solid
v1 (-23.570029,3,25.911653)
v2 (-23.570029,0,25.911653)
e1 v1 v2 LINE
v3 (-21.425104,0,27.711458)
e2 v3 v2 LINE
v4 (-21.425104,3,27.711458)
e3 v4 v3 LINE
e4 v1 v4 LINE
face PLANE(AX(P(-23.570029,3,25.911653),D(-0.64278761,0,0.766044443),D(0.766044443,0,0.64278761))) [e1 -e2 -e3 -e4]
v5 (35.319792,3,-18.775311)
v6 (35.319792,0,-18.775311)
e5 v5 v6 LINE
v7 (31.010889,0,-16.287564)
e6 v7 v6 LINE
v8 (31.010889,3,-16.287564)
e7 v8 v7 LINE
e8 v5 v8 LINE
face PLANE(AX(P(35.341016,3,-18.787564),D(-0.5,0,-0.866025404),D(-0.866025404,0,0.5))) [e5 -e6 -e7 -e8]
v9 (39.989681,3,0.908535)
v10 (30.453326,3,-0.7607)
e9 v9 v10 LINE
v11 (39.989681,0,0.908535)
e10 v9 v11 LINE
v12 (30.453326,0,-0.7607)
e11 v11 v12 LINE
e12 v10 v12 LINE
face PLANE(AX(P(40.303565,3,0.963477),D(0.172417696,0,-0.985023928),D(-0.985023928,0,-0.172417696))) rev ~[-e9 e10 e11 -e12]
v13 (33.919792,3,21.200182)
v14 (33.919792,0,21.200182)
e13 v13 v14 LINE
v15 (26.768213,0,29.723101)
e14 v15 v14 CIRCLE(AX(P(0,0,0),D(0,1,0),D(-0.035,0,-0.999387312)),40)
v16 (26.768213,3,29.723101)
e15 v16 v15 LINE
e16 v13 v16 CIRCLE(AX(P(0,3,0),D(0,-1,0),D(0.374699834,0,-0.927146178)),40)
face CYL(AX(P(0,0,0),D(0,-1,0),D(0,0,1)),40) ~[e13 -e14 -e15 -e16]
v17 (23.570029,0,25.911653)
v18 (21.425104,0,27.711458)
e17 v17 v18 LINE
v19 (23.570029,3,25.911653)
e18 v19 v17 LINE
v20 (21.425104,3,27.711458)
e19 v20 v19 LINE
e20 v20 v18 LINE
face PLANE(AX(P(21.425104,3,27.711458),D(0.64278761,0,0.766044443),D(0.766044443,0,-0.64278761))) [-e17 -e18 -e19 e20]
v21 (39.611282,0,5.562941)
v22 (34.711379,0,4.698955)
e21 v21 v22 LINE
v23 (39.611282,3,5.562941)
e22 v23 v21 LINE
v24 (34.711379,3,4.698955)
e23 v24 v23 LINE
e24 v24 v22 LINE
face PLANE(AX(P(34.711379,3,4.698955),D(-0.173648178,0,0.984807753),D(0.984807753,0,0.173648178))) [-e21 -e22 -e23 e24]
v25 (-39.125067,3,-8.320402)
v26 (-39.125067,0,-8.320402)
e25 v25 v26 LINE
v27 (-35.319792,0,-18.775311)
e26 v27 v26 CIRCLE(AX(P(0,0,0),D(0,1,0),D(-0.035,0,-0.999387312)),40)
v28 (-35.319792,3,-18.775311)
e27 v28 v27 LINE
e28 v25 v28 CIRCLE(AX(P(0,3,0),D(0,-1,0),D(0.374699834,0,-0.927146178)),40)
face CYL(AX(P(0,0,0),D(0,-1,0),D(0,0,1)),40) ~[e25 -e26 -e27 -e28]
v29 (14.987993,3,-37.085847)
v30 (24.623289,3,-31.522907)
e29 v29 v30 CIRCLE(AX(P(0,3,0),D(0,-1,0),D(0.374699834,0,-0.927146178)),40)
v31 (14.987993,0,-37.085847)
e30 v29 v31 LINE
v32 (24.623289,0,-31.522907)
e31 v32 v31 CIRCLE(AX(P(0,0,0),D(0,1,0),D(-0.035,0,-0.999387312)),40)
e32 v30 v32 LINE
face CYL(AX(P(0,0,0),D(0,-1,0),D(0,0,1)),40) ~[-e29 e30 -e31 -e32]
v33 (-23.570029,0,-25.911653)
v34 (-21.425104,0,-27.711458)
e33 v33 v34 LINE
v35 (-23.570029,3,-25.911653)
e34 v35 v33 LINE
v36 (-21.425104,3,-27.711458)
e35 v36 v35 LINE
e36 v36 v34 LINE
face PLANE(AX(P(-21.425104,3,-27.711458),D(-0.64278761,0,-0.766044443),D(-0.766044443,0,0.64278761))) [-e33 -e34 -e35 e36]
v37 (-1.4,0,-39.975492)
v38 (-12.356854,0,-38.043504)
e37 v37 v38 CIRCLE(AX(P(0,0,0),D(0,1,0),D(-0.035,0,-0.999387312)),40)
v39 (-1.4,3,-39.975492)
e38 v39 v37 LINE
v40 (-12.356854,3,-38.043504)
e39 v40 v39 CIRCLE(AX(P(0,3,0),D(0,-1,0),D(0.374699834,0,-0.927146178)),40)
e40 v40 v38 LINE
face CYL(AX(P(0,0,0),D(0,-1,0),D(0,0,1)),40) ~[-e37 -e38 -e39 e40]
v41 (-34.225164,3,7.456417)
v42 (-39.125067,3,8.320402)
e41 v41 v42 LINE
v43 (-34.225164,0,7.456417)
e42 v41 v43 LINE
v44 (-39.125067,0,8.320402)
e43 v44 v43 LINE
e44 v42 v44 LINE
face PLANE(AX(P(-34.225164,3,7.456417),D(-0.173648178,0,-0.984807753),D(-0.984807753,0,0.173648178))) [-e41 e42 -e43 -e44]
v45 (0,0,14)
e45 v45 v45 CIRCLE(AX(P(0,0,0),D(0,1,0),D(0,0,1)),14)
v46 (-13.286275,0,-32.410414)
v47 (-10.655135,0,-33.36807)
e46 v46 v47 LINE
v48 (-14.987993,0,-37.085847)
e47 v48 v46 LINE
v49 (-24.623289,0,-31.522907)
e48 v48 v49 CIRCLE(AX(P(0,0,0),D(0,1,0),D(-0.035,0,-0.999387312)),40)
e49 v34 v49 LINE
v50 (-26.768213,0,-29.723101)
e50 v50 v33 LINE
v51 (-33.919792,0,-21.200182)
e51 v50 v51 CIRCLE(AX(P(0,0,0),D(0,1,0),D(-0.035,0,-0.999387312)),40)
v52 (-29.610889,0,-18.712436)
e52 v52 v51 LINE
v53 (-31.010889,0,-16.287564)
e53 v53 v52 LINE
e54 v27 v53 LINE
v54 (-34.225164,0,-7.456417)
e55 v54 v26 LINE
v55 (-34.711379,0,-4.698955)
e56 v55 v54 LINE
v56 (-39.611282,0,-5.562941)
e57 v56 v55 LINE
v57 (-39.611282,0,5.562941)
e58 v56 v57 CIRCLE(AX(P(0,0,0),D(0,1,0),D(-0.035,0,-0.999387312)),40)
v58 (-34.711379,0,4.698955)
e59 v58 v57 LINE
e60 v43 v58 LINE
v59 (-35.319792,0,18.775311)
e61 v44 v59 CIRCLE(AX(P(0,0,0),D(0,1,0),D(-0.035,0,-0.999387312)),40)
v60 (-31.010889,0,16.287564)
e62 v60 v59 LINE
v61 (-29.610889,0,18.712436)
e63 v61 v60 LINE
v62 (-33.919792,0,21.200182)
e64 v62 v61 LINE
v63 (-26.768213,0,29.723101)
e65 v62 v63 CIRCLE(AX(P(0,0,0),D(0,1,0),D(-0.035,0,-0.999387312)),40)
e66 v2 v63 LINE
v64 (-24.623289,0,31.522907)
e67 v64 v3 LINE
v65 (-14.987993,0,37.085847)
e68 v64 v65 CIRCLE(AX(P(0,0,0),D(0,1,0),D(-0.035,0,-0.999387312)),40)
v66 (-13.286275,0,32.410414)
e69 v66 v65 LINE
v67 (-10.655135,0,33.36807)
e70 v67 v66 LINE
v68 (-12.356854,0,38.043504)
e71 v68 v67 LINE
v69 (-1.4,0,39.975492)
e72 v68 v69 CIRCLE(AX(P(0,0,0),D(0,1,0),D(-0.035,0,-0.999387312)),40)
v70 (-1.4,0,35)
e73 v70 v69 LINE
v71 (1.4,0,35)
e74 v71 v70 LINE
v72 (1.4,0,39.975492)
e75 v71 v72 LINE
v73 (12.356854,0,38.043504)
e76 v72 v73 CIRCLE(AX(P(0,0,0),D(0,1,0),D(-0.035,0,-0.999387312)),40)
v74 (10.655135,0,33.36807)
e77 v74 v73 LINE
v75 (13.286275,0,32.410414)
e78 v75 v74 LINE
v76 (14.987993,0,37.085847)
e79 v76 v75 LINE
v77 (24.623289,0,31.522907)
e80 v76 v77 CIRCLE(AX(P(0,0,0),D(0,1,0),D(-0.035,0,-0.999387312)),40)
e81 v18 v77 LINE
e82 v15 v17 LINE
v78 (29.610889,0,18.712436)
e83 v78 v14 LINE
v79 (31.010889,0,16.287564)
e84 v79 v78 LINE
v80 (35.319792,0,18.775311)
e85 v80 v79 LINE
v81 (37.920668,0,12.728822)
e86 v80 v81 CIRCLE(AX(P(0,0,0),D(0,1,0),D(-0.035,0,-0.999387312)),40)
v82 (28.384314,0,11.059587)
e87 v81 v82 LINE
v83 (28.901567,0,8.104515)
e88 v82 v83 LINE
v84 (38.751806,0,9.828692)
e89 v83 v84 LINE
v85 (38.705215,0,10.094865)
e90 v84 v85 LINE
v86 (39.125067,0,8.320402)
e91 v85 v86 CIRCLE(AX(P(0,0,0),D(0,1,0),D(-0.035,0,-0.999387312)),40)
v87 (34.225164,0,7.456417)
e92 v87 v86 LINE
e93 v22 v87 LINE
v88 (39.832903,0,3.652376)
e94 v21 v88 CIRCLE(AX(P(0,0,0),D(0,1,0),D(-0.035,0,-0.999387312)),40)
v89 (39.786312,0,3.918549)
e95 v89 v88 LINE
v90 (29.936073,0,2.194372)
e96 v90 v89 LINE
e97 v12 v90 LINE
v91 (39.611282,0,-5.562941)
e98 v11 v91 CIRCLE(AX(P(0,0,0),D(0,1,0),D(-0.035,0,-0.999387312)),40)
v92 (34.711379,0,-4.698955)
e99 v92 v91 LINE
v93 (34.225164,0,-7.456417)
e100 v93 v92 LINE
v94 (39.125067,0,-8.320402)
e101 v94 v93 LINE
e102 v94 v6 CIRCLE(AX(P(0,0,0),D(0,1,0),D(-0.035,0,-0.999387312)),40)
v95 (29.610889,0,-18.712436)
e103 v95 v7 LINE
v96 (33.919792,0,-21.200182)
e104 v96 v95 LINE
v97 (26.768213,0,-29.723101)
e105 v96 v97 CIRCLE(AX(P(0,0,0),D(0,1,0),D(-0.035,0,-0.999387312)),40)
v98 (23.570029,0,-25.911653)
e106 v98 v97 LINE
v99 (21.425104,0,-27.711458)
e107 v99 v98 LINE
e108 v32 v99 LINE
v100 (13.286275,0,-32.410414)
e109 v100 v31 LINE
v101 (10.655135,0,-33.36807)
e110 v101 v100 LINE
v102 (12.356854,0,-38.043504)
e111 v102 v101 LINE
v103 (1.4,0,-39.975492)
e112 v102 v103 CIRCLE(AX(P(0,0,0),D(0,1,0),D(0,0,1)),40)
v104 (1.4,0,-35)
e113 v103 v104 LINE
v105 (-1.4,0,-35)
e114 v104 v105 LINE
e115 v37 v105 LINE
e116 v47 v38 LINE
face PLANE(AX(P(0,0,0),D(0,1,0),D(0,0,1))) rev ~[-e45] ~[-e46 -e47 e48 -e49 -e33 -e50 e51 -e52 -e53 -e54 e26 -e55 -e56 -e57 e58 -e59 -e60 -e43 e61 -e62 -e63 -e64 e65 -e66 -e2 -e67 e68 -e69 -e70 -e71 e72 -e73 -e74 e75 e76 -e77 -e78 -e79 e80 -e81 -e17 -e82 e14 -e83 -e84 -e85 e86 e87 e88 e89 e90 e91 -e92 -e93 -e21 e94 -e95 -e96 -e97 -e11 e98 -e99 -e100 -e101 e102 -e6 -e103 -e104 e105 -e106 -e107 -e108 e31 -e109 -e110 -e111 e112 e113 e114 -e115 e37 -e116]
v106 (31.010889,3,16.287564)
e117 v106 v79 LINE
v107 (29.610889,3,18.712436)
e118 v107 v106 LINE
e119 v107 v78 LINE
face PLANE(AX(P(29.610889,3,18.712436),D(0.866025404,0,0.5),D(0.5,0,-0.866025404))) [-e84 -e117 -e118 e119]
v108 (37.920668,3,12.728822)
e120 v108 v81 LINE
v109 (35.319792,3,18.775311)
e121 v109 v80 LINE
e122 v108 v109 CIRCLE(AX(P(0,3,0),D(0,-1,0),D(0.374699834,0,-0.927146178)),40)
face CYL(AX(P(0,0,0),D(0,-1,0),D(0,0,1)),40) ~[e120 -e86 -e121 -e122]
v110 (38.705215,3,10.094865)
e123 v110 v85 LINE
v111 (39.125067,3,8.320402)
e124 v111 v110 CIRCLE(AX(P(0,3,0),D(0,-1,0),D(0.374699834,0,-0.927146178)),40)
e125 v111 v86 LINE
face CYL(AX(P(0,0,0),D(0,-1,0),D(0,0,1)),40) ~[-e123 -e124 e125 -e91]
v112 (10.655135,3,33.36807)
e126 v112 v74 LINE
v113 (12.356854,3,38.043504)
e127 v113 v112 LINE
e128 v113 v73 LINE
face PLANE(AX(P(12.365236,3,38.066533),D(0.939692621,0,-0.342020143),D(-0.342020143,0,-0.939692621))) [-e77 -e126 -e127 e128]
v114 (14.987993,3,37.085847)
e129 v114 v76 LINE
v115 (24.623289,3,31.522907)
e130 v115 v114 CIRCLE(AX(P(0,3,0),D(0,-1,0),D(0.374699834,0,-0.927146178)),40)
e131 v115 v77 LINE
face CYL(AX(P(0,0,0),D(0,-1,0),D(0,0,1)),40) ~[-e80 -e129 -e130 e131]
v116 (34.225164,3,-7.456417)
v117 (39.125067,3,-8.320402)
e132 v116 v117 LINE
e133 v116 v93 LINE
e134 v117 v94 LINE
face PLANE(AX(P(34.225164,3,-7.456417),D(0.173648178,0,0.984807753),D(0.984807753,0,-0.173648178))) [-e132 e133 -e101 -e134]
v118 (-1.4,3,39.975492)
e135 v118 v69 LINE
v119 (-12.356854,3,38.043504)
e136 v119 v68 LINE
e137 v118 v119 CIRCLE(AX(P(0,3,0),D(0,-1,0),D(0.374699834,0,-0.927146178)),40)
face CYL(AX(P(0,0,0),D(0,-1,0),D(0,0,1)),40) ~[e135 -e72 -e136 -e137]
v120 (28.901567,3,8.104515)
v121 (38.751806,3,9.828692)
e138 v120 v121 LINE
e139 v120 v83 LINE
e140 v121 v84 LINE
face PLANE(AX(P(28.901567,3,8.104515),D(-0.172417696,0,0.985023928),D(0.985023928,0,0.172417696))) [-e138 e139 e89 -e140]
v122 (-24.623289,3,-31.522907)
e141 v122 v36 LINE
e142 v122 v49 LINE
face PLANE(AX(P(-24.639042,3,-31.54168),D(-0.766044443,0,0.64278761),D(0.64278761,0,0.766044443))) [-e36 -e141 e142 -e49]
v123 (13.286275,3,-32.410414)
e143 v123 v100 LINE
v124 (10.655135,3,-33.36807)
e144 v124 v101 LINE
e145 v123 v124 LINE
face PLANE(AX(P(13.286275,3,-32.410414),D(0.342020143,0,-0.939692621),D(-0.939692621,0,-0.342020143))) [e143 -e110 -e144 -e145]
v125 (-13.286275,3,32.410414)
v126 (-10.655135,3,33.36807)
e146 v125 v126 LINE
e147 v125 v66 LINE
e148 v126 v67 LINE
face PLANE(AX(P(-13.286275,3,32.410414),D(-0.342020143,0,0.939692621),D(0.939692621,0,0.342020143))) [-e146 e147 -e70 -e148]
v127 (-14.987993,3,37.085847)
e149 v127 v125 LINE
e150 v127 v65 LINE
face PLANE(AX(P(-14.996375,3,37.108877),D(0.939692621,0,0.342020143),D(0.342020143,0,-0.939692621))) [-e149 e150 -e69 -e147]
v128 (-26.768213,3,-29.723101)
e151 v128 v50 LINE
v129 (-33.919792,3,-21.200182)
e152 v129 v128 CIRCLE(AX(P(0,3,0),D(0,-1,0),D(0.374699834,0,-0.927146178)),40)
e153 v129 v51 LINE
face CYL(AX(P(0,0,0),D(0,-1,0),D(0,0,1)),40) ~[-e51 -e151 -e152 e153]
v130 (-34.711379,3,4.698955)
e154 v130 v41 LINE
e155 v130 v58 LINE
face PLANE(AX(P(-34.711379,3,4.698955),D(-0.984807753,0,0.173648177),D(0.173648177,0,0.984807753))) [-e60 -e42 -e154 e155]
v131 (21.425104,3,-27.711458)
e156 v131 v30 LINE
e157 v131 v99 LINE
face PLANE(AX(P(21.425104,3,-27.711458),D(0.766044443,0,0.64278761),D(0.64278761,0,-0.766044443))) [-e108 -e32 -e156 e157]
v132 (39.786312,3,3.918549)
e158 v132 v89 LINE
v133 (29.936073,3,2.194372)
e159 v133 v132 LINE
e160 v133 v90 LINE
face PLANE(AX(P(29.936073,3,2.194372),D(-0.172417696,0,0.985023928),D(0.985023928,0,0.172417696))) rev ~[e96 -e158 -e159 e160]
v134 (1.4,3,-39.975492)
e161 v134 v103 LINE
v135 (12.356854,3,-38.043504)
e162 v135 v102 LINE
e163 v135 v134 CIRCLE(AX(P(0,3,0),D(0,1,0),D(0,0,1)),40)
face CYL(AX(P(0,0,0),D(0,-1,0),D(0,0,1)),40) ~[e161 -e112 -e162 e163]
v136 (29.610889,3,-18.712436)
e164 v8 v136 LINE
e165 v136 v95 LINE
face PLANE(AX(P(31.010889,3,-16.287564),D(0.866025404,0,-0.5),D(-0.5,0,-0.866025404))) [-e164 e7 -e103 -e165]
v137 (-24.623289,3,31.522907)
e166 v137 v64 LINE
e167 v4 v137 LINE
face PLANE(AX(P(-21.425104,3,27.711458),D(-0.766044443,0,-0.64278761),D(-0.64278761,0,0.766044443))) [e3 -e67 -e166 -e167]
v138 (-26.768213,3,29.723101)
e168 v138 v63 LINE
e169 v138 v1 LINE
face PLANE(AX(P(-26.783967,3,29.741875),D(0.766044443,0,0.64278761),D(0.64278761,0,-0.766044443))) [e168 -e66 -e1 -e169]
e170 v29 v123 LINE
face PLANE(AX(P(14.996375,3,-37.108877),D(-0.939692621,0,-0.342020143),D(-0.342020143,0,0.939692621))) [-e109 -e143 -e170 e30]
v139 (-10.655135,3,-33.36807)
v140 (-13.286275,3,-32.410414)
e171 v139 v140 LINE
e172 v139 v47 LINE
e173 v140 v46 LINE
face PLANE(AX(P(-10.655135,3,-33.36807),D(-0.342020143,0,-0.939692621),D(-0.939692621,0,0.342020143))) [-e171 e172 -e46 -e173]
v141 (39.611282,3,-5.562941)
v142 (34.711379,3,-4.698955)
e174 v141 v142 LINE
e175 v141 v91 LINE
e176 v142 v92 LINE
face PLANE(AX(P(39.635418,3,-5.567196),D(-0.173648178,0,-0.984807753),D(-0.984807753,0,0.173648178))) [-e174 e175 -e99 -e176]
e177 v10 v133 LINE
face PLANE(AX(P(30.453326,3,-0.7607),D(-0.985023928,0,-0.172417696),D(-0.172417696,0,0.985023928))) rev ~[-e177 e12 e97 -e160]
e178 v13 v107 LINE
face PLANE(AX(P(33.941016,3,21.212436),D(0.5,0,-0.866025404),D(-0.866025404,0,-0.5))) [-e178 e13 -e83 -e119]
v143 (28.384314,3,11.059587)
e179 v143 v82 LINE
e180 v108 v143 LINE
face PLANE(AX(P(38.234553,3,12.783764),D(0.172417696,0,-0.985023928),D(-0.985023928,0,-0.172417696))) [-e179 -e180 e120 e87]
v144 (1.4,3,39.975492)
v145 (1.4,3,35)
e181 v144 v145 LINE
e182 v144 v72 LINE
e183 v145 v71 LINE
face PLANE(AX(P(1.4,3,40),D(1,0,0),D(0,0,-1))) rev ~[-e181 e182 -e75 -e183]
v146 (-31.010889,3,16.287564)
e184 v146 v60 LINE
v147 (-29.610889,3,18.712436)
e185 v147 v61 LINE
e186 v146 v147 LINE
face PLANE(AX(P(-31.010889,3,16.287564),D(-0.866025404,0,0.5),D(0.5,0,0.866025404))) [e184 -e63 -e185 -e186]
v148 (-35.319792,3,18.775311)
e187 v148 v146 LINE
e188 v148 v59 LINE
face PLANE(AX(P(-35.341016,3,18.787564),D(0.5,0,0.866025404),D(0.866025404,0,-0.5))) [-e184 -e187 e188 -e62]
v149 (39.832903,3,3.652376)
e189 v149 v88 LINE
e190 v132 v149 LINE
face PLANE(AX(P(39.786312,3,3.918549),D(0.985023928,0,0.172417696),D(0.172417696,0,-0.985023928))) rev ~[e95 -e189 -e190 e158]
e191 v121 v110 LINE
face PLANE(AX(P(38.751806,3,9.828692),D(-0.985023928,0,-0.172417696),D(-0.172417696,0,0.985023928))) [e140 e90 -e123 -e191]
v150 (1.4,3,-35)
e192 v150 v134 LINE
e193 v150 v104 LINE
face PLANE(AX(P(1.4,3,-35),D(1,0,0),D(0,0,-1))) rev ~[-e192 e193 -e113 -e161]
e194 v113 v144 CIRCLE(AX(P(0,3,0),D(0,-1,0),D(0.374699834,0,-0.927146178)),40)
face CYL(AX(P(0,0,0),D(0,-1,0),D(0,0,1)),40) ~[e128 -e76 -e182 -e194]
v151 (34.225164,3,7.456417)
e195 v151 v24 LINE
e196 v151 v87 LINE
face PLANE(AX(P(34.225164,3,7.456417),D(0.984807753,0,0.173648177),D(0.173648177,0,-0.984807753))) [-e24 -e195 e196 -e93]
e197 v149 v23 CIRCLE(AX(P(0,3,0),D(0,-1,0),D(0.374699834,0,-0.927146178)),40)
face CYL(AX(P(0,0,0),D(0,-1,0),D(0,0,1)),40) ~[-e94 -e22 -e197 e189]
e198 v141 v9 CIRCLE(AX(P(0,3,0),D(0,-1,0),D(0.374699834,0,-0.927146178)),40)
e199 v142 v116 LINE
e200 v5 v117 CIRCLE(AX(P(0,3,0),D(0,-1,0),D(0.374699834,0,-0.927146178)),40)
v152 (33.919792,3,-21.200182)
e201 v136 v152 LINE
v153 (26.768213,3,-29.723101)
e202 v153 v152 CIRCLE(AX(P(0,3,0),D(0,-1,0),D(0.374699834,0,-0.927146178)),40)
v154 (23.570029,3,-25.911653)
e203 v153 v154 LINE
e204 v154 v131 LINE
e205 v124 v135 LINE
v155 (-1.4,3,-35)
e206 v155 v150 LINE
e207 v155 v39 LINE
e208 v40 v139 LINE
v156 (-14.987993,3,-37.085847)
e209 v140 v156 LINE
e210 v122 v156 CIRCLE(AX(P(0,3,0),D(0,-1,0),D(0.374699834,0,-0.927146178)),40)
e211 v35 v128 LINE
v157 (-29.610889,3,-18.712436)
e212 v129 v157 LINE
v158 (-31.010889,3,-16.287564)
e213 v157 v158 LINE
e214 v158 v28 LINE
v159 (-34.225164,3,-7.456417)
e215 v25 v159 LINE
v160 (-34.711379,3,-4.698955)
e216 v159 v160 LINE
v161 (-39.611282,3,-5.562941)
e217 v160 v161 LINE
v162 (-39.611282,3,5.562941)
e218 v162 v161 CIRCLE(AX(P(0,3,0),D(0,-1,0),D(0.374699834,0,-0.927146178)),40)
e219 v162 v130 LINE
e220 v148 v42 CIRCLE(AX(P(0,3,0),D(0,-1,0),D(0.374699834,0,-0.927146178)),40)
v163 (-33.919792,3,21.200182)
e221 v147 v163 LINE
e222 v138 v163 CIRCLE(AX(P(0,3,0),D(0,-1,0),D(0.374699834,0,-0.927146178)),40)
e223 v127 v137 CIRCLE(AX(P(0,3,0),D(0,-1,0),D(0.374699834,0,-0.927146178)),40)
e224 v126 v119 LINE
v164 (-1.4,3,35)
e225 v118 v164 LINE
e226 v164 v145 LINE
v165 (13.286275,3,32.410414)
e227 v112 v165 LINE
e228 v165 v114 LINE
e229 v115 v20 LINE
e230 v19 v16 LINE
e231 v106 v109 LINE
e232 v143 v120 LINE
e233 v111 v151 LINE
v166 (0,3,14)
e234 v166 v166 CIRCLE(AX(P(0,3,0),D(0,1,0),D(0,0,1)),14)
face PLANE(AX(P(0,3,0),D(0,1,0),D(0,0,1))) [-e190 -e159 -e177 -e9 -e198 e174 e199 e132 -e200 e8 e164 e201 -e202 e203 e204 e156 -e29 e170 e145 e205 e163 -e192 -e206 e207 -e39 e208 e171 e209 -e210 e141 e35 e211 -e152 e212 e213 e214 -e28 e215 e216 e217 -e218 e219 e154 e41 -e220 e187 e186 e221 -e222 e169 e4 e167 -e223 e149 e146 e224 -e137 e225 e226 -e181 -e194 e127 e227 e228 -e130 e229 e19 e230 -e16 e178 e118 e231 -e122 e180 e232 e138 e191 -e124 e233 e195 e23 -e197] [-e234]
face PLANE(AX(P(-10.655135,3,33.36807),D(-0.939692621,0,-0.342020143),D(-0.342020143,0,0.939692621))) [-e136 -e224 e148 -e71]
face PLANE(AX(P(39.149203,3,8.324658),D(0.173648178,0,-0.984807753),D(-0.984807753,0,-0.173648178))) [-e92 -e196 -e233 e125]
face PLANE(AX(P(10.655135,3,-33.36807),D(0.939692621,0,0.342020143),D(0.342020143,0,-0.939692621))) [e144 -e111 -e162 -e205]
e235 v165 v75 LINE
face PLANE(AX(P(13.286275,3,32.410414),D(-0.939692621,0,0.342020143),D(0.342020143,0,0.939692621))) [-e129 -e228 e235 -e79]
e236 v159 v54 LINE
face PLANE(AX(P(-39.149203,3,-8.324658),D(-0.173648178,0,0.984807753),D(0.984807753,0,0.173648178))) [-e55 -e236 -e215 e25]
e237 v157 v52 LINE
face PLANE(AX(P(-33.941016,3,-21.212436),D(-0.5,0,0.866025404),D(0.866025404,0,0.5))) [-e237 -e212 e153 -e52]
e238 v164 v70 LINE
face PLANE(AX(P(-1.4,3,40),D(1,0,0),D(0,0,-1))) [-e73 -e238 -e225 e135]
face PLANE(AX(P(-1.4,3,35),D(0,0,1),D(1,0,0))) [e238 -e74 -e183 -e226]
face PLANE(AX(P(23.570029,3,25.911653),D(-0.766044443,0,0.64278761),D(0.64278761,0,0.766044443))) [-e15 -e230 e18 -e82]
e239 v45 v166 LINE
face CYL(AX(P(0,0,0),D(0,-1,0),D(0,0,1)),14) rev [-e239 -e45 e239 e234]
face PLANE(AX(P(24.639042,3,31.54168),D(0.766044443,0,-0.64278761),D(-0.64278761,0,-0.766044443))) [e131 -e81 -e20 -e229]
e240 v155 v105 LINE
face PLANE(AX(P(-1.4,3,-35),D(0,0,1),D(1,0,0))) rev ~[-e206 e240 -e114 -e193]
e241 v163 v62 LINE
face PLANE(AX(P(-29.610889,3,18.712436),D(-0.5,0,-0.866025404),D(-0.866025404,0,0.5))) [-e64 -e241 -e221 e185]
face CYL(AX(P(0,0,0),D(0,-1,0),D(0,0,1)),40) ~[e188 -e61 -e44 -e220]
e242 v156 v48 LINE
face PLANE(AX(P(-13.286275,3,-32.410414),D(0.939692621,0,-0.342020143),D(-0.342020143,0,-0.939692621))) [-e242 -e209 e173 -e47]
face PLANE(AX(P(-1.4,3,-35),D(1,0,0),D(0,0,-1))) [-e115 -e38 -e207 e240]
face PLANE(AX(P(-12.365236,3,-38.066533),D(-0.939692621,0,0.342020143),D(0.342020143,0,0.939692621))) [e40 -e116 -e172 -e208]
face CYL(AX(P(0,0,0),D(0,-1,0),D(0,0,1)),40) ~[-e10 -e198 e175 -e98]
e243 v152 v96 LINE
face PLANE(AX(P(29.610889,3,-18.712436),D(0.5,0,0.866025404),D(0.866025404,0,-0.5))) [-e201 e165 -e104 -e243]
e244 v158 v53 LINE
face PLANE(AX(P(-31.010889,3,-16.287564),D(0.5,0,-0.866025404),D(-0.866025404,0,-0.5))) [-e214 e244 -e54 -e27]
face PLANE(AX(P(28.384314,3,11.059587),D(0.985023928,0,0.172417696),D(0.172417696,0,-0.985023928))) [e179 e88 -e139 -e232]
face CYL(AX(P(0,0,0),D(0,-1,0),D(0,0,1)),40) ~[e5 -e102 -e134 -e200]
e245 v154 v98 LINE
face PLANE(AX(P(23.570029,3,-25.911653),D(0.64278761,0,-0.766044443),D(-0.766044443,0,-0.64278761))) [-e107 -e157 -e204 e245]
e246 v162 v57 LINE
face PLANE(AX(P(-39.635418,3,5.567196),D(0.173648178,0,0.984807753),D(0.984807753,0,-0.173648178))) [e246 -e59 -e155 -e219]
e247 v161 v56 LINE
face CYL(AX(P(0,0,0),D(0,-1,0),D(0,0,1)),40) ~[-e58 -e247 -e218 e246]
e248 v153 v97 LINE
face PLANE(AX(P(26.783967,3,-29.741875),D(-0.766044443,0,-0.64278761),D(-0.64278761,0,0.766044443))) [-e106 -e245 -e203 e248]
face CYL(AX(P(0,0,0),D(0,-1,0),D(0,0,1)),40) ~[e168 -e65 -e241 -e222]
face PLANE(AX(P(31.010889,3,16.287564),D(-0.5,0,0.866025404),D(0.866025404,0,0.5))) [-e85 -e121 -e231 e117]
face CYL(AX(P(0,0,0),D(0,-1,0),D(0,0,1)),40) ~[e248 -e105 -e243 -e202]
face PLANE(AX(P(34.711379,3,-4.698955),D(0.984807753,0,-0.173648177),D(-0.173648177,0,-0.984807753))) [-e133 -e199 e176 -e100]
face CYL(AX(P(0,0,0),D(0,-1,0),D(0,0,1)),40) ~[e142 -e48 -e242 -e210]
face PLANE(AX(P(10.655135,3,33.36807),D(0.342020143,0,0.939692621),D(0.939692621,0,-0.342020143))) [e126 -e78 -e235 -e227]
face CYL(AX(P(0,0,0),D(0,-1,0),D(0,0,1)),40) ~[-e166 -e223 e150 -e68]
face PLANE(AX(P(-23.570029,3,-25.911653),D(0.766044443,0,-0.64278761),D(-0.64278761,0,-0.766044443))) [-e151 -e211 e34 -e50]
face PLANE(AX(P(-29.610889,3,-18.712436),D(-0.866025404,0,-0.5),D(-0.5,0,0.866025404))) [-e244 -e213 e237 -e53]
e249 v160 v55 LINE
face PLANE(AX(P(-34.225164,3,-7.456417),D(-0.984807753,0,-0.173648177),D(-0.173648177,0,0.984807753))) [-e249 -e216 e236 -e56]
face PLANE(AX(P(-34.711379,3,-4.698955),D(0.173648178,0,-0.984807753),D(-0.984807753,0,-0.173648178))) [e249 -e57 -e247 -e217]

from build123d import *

# Parameters (mm, degrees)
ESQUISSE1_R             = 40
ESQUISSE1_R_2           = 14
BOSS_EXTRU_1_DEPTH      = 3
ENL_V_MAT_EXTRU_1_REACH = 58.648
ESQUISSE2_W             = 2.8
ESQUISSE2_H             = 5
ENL_V_MAT_EXTRU_2_DEPTH = 10


with BuildPart() as part:
    # Esquisse1 → Boss.-Extru.1 (new body)
    with BuildSketch(Plane(origin=(0, 0, 0), x_dir=(1, 0, 0), z_dir=(0, 1, 0))):
        with Locations(Location((0, 0, 0), (0, 0, 270))):
            Circle(ESQUISSE1_R)
        with Locations(Location((0, 0, 0), (0, 0, 270))):
            Circle(ESQUISSE1_R_2, mode=Mode.SUBTRACT)
    extrude(amount=BOSS_EXTRU_1_DEPTH)

    # Esquisse2 → Enlèv. mat.-Extru.1 (cut, up to next)
    with BuildSketch(Plane(origin=(0, 3, 0), x_dir=(1, 0, 0), z_dir=(0, 1, 0)), mode=Mode.PRIVATE) as enl_v_mat_extru_1_sk1:
        Polygon((14.996375402, 37.108876631), (13.286274685, 32.410413527), (10.655135347, 33.368069928), (12.365236064, 38.066533032), align=None)
    enl_v_mat_extru_1_tool1 = extrude(enl_v_mat_extru_1_sk1.sketch, amount=-ENL_V_MAT_EXTRU_1_REACH, mode=Mode.PRIVATE) & part.part
    # Esquisse2 → Enlèv. mat.-Extru.1 (cut, up to next)
    with BuildSketch(Plane(origin=(0, 3, 0), x_dir=(1, 0, 0), z_dir=(0, 1, 0)), mode=Mode.PRIVATE) as enl_v_mat_extru_1_sk2:
        with Locations((0, 37.5)):
            Rectangle(ESQUISSE2_W, ESQUISSE2_H)
    enl_v_mat_extru_1_tool2 = extrude(enl_v_mat_extru_1_sk2.sketch, amount=-ENL_V_MAT_EXTRU_1_REACH, mode=Mode.PRIVATE) & part.part
    # Esquisse2 → Enlèv. mat.-Extru.1 (cut, up to next)
    with BuildSketch(Plane(origin=(0, 3, 0), x_dir=(1, 0, 0), z_dir=(0, 1, 0)), mode=Mode.PRIVATE) as enl_v_mat_extru_1_sk3:
        Polygon((26.783966608, 29.741875071), (23.570028559, 25.911652856), (21.425104119, 27.711458163), (24.639042167, 31.541680378), align=None)
    enl_v_mat_extru_1_tool3 = extrude(enl_v_mat_extru_1_sk3.sketch, amount=-ENL_V_MAT_EXTRU_1_REACH, mode=Mode.PRIVATE) & part.part
    # Esquisse2 → Enlèv. mat.-Extru.1 (cut, up to next)
    with BuildSketch(Plane(origin=(0, 3, 0), x_dir=(1, 0, 0), z_dir=(0, 1, 0)), mode=Mode.PRIVATE) as enl_v_mat_extru_1_sk4:
        Polygon((35.341016151, 18.787564435), (31.010889132, 16.287564435), (29.610889132, 18.712435565), (33.941016151, 21.212435565), align=None)
    enl_v_mat_extru_1_tool4 = extrude(enl_v_mat_extru_1_sk4.sketch, amount=-ENL_V_MAT_EXTRU_1_REACH, mode=Mode.PRIVATE) & part.part
    # Esquisse2 → Enlèv. mat.-Extru.1 (cut, up to next)
    with BuildSketch(Plane(origin=(0, 3, 0), x_dir=(1, 0, 0), z_dir=(0, 1, 0)), mode=Mode.PRIVATE) as enl_v_mat_extru_1_sk5:
        Polygon((39.635417569, 5.567196252), (34.711378804, 4.698955364), (34.225163907, 7.456417073), (39.149202672, 8.324657961), align=None)
    enl_v_mat_extru_1_tool5 = extrude(enl_v_mat_extru_1_sk5.sketch, amount=-ENL_V_MAT_EXTRU_1_REACH, mode=Mode.PRIVATE) & part.part
    # Esquisse2 → Enlèv. mat.-Extru.1 (cut, up to next)
    with BuildSketch(Plane(origin=(0, 3, 0), x_dir=(1, 0, 0), z_dir=(0, 1, 0)), mode=Mode.PRIVATE) as enl_v_mat_extru_1_sk6:
        Polygon((39.149202672, -8.324657961), (34.225163907, -7.456417073), (34.711378804, -4.698955364), (39.635417569, -5.567196252), align=None)
    enl_v_mat_extru_1_tool6 = extrude(enl_v_mat_extru_1_sk6.sketch, amount=-ENL_V_MAT_EXTRU_1_REACH, mode=Mode.PRIVATE) & part.part
    # Esquisse2 → Enlèv. mat.-Extru.1 (cut, up to next)
    with BuildSketch(Plane(origin=(0, 3, 0), x_dir=(1, 0, 0), z_dir=(0, 1, 0)), mode=Mode.PRIVATE) as enl_v_mat_extru_1_sk7:
        Polygon((33.941016151, -21.212435565), (29.610889132, -18.712435565), (31.010889132, -16.287564435), (35.341016151, -18.787564435), align=None)
    enl_v_mat_extru_1_tool7 = extrude(enl_v_mat_extru_1_sk7.sketch, amount=-ENL_V_MAT_EXTRU_1_REACH, mode=Mode.PRIVATE) & part.part
    # Esquisse2 → Enlèv. mat.-Extru.1 (cut, up to next)
    with BuildSketch(Plane(origin=(0, 3, 0), x_dir=(1, 0, 0), z_dir=(0, 1, 0)), mode=Mode.PRIVATE) as enl_v_mat_extru_1_sk8:
        Polygon((24.639042167, -31.541680378), (21.425104119, -27.711458163), (23.570028559, -25.911652856), (26.783966608, -29.741875071), align=None)
    enl_v_mat_extru_1_tool8 = extrude(enl_v_mat_extru_1_sk8.sketch, amount=-ENL_V_MAT_EXTRU_1_REACH, mode=Mode.PRIVATE) & part.part
    # Esquisse2 → Enlèv. mat.-Extru.1 (cut, up to next)
    with BuildSketch(Plane(origin=(0, 3, 0), x_dir=(1, 0, 0), z_dir=(0, 1, 0)), mode=Mode.PRIVATE) as enl_v_mat_extru_1_sk9:
        Polygon((12.365236064, -38.066533032), (10.655135347, -33.368069928), (13.286274686, -32.410413527), (14.996375402, -37.108876631), align=None)
    enl_v_mat_extru_1_tool9 = extrude(enl_v_mat_extru_1_sk9.sketch, amount=-ENL_V_MAT_EXTRU_1_REACH, mode=Mode.PRIVATE) & part.part
    # Esquisse2 → Enlèv. mat.-Extru.1 (cut, up to next)
    with BuildSketch(Plane(origin=(0, 3, 0), x_dir=(1, 0, 0), z_dir=(0, 1, 0)), mode=Mode.PRIVATE) as enl_v_mat_extru_1_sk10:
        with Locations((0, -37.5)):
            Rectangle(ESQUISSE2_W, ESQUISSE2_H)
    enl_v_mat_extru_1_tool10 = extrude(enl_v_mat_extru_1_sk10.sketch, amount=-ENL_V_MAT_EXTRU_1_REACH, mode=Mode.PRIVATE) & part.part
    # Esquisse2 → Enlèv. mat.-Extru.1 (cut, up to next)
    with BuildSketch(Plane(origin=(0, 3, 0), x_dir=(1, 0, 0), z_dir=(0, 1, 0)), mode=Mode.PRIVATE) as enl_v_mat_extru_1_sk11:
        Polygon((-14.996375402, -37.108876631), (-13.286274685, -32.410413527), (-10.655135347, -33.368069928), (-12.365236064, -38.066533032), align=None)
    enl_v_mat_extru_1_tool11 = extrude(enl_v_mat_extru_1_sk11.sketch, amount=-ENL_V_MAT_EXTRU_1_REACH, mode=Mode.PRIVATE) & part.part
    # Esquisse2 → Enlèv. mat.-Extru.1 (cut, up to next)
    with BuildSketch(Plane(origin=(0, 3, 0), x_dir=(1, 0, 0), z_dir=(0, 1, 0)), mode=Mode.PRIVATE) as enl_v_mat_extru_1_sk12:
        Polygon((-26.783966608, -29.741875071), (-23.570028559, -25.911652856), (-21.425104119, -27.711458163), (-24.639042167, -31.541680378), align=None)
    enl_v_mat_extru_1_tool12 = extrude(enl_v_mat_extru_1_sk12.sketch, amount=-ENL_V_MAT_EXTRU_1_REACH, mode=Mode.PRIVATE) & part.part
    # Esquisse2 → Enlèv. mat.-Extru.1 (cut, up to next)
    with BuildSketch(Plane(origin=(0, 3, 0), x_dir=(1, 0, 0), z_dir=(0, 1, 0)), mode=Mode.PRIVATE) as enl_v_mat_extru_1_sk13:
        Polygon((-35.341016151, -18.787564435), (-31.010889132, -16.287564435), (-29.610889132, -18.712435565), (-33.941016151, -21.212435565), align=None)
    enl_v_mat_extru_1_tool13 = extrude(enl_v_mat_extru_1_sk13.sketch, amount=-ENL_V_MAT_EXTRU_1_REACH, mode=Mode.PRIVATE) & part.part
    # Esquisse2 → Enlèv. mat.-Extru.1 (cut, up to next)
    with BuildSketch(Plane(origin=(0, 3, 0), x_dir=(1, 0, 0), z_dir=(0, 1, 0)), mode=Mode.PRIVATE) as enl_v_mat_extru_1_sk14:
        Polygon((-39.635417569, -5.567196252), (-34.711378804, -4.698955364), (-34.225163907, -7.456417073), (-39.149202672, -8.324657961), align=None)
    enl_v_mat_extru_1_tool14 = extrude(enl_v_mat_extru_1_sk14.sketch, amount=-ENL_V_MAT_EXTRU_1_REACH, mode=Mode.PRIVATE) & part.part
    # Esquisse2 → Enlèv. mat.-Extru.1 (cut, up to next)
    with BuildSketch(Plane(origin=(0, 3, 0), x_dir=(1, 0, 0), z_dir=(0, 1, 0)), mode=Mode.PRIVATE) as enl_v_mat_extru_1_sk15:
        Polygon((-39.149202672, 8.324657961), (-34.225163907, 7.456417073), (-34.711378804, 4.698955364), (-39.635417569, 5.567196252), align=None)
    enl_v_mat_extru_1_tool15 = extrude(enl_v_mat_extru_1_sk15.sketch, amount=-ENL_V_MAT_EXTRU_1_REACH, mode=Mode.PRIVATE) & part.part
    # Esquisse2 → Enlèv. mat.-Extru.1 (cut, up to next)
    with BuildSketch(Plane(origin=(0, 3, 0), x_dir=(1, 0, 0), z_dir=(0, 1, 0)), mode=Mode.PRIVATE) as enl_v_mat_extru_1_sk16:
        Polygon((-33.941016151, 21.212435565), (-29.610889132, 18.712435565), (-31.010889132, 16.287564435), (-35.341016151, 18.787564435), align=None)
    enl_v_mat_extru_1_tool16 = extrude(enl_v_mat_extru_1_sk16.sketch, amount=-ENL_V_MAT_EXTRU_1_REACH, mode=Mode.PRIVATE) & part.part
    # Esquisse2 → Enlèv. mat.-Extru.1 (cut, up to next)
    with BuildSketch(Plane(origin=(0, 3, 0), x_dir=(1, 0, 0), z_dir=(0, 1, 0)), mode=Mode.PRIVATE) as enl_v_mat_extru_1_sk17:
        Polygon((-24.639042167, 31.541680378), (-21.425104119, 27.711458163), (-23.570028559, 25.911652856), (-26.783966608, 29.741875071), align=None)
    enl_v_mat_extru_1_tool17 = extrude(enl_v_mat_extru_1_sk17.sketch, amount=-ENL_V_MAT_EXTRU_1_REACH, mode=Mode.PRIVATE) & part.part
    # Esquisse2 → Enlèv. mat.-Extru.1 (cut, up to next)
    with BuildSketch(Plane(origin=(0, 3, 0), x_dir=(1, 0, 0), z_dir=(0, 1, 0)), mode=Mode.PRIVATE) as enl_v_mat_extru_1_sk18:
        Polygon((-12.365236064, 38.066533032), (-10.655135347, 33.368069928), (-13.286274685, 32.410413527), (-14.996375402, 37.108876631), align=None)
    enl_v_mat_extru_1_tool18 = extrude(enl_v_mat_extru_1_sk18.sketch, amount=-ENL_V_MAT_EXTRU_1_REACH, mode=Mode.PRIVATE) & part.part
    add(enl_v_mat_extru_1_tool1.solids().sort_by_distance((12.825755, 3, -35.238473))[0], mode=Mode.SUBTRACT)
    add(enl_v_mat_extru_1_tool2.solids().sort_by_distance((0, 3, -37.5))[0], mode=Mode.SUBTRACT)
    add(enl_v_mat_extru_1_tool3.solids().sort_by_distance((24.104535, 3, -28.726667))[0], mode=Mode.SUBTRACT)
    add(enl_v_mat_extru_1_tool4.solids().sort_by_distance((32.475953, 3, -18.75))[0], mode=Mode.SUBTRACT)
    add(enl_v_mat_extru_1_tool5.solids().sort_by_distance((36.930291, 3, -6.511807))[0], mode=Mode.SUBTRACT)
    add(enl_v_mat_extru_1_tool6.solids().sort_by_distance((36.930291, 3, 6.511807))[0], mode=Mode.SUBTRACT)
    add(enl_v_mat_extru_1_tool7.solids().sort_by_distance((32.475953, 3, 18.75))[0], mode=Mode.SUBTRACT)
    add(enl_v_mat_extru_1_tool8.solids().sort_by_distance((24.104535, 3, 28.726667))[0], mode=Mode.SUBTRACT)
    add(enl_v_mat_extru_1_tool9.solids().sort_by_distance((12.825755, 3, 35.238473))[0], mode=Mode.SUBTRACT)
    add(enl_v_mat_extru_1_tool10.solids().sort_by_distance((0, 3, 37.5))[0], mode=Mode.SUBTRACT)
    add(enl_v_mat_extru_1_tool11.solids().sort_by_distance((-12.825755, 3, 35.238473))[0], mode=Mode.SUBTRACT)
    add(enl_v_mat_extru_1_tool12.solids().sort_by_distance((-24.104535, 3, 28.726667))[0], mode=Mode.SUBTRACT)
    add(enl_v_mat_extru_1_tool13.solids().sort_by_distance((-32.475953, 3, 18.75))[0], mode=Mode.SUBTRACT)
    add(enl_v_mat_extru_1_tool14.solids().sort_by_distance((-36.930291, 3, 6.511807))[0], mode=Mode.SUBTRACT)
    add(enl_v_mat_extru_1_tool15.solids().sort_by_distance((-36.930291, 3, -6.511807))[0], mode=Mode.SUBTRACT)
    add(enl_v_mat_extru_1_tool16.solids().sort_by_distance((-32.475953, 3, -18.75))[0], mode=Mode.SUBTRACT)
    add(enl_v_mat_extru_1_tool17.solids().sort_by_distance((-24.104535, 3, -28.726667))[0], mode=Mode.SUBTRACT)
    add(enl_v_mat_extru_1_tool18.solids().sort_by_distance((-12.825755, 3, -35.238473))[0], mode=Mode.SUBTRACT)

    # Esquisse3 → Enlèv. mat.-Extru.2 (cut)
    with BuildSketch(Plane(origin=(0, 3, 0), x_dir=(1, 0, 0), z_dir=(0, 1, 0))):
        Polygon((30.453325998, 0.760699996), (29.93607291, -2.194371787), (39.786312187, -3.918548747), (40.303565275, -0.963476964), align=None)
        Polygon((28.384313646, -11.059587136), (28.901566734, -8.104515353), (38.751806011, -9.828692313), (38.234552923, -12.783764096), align=None)
    extrude(amount=-ENL_V_MAT_EXTRU_2_DEPTH, mode=Mode.SUBTRACT)


solid = part.part
